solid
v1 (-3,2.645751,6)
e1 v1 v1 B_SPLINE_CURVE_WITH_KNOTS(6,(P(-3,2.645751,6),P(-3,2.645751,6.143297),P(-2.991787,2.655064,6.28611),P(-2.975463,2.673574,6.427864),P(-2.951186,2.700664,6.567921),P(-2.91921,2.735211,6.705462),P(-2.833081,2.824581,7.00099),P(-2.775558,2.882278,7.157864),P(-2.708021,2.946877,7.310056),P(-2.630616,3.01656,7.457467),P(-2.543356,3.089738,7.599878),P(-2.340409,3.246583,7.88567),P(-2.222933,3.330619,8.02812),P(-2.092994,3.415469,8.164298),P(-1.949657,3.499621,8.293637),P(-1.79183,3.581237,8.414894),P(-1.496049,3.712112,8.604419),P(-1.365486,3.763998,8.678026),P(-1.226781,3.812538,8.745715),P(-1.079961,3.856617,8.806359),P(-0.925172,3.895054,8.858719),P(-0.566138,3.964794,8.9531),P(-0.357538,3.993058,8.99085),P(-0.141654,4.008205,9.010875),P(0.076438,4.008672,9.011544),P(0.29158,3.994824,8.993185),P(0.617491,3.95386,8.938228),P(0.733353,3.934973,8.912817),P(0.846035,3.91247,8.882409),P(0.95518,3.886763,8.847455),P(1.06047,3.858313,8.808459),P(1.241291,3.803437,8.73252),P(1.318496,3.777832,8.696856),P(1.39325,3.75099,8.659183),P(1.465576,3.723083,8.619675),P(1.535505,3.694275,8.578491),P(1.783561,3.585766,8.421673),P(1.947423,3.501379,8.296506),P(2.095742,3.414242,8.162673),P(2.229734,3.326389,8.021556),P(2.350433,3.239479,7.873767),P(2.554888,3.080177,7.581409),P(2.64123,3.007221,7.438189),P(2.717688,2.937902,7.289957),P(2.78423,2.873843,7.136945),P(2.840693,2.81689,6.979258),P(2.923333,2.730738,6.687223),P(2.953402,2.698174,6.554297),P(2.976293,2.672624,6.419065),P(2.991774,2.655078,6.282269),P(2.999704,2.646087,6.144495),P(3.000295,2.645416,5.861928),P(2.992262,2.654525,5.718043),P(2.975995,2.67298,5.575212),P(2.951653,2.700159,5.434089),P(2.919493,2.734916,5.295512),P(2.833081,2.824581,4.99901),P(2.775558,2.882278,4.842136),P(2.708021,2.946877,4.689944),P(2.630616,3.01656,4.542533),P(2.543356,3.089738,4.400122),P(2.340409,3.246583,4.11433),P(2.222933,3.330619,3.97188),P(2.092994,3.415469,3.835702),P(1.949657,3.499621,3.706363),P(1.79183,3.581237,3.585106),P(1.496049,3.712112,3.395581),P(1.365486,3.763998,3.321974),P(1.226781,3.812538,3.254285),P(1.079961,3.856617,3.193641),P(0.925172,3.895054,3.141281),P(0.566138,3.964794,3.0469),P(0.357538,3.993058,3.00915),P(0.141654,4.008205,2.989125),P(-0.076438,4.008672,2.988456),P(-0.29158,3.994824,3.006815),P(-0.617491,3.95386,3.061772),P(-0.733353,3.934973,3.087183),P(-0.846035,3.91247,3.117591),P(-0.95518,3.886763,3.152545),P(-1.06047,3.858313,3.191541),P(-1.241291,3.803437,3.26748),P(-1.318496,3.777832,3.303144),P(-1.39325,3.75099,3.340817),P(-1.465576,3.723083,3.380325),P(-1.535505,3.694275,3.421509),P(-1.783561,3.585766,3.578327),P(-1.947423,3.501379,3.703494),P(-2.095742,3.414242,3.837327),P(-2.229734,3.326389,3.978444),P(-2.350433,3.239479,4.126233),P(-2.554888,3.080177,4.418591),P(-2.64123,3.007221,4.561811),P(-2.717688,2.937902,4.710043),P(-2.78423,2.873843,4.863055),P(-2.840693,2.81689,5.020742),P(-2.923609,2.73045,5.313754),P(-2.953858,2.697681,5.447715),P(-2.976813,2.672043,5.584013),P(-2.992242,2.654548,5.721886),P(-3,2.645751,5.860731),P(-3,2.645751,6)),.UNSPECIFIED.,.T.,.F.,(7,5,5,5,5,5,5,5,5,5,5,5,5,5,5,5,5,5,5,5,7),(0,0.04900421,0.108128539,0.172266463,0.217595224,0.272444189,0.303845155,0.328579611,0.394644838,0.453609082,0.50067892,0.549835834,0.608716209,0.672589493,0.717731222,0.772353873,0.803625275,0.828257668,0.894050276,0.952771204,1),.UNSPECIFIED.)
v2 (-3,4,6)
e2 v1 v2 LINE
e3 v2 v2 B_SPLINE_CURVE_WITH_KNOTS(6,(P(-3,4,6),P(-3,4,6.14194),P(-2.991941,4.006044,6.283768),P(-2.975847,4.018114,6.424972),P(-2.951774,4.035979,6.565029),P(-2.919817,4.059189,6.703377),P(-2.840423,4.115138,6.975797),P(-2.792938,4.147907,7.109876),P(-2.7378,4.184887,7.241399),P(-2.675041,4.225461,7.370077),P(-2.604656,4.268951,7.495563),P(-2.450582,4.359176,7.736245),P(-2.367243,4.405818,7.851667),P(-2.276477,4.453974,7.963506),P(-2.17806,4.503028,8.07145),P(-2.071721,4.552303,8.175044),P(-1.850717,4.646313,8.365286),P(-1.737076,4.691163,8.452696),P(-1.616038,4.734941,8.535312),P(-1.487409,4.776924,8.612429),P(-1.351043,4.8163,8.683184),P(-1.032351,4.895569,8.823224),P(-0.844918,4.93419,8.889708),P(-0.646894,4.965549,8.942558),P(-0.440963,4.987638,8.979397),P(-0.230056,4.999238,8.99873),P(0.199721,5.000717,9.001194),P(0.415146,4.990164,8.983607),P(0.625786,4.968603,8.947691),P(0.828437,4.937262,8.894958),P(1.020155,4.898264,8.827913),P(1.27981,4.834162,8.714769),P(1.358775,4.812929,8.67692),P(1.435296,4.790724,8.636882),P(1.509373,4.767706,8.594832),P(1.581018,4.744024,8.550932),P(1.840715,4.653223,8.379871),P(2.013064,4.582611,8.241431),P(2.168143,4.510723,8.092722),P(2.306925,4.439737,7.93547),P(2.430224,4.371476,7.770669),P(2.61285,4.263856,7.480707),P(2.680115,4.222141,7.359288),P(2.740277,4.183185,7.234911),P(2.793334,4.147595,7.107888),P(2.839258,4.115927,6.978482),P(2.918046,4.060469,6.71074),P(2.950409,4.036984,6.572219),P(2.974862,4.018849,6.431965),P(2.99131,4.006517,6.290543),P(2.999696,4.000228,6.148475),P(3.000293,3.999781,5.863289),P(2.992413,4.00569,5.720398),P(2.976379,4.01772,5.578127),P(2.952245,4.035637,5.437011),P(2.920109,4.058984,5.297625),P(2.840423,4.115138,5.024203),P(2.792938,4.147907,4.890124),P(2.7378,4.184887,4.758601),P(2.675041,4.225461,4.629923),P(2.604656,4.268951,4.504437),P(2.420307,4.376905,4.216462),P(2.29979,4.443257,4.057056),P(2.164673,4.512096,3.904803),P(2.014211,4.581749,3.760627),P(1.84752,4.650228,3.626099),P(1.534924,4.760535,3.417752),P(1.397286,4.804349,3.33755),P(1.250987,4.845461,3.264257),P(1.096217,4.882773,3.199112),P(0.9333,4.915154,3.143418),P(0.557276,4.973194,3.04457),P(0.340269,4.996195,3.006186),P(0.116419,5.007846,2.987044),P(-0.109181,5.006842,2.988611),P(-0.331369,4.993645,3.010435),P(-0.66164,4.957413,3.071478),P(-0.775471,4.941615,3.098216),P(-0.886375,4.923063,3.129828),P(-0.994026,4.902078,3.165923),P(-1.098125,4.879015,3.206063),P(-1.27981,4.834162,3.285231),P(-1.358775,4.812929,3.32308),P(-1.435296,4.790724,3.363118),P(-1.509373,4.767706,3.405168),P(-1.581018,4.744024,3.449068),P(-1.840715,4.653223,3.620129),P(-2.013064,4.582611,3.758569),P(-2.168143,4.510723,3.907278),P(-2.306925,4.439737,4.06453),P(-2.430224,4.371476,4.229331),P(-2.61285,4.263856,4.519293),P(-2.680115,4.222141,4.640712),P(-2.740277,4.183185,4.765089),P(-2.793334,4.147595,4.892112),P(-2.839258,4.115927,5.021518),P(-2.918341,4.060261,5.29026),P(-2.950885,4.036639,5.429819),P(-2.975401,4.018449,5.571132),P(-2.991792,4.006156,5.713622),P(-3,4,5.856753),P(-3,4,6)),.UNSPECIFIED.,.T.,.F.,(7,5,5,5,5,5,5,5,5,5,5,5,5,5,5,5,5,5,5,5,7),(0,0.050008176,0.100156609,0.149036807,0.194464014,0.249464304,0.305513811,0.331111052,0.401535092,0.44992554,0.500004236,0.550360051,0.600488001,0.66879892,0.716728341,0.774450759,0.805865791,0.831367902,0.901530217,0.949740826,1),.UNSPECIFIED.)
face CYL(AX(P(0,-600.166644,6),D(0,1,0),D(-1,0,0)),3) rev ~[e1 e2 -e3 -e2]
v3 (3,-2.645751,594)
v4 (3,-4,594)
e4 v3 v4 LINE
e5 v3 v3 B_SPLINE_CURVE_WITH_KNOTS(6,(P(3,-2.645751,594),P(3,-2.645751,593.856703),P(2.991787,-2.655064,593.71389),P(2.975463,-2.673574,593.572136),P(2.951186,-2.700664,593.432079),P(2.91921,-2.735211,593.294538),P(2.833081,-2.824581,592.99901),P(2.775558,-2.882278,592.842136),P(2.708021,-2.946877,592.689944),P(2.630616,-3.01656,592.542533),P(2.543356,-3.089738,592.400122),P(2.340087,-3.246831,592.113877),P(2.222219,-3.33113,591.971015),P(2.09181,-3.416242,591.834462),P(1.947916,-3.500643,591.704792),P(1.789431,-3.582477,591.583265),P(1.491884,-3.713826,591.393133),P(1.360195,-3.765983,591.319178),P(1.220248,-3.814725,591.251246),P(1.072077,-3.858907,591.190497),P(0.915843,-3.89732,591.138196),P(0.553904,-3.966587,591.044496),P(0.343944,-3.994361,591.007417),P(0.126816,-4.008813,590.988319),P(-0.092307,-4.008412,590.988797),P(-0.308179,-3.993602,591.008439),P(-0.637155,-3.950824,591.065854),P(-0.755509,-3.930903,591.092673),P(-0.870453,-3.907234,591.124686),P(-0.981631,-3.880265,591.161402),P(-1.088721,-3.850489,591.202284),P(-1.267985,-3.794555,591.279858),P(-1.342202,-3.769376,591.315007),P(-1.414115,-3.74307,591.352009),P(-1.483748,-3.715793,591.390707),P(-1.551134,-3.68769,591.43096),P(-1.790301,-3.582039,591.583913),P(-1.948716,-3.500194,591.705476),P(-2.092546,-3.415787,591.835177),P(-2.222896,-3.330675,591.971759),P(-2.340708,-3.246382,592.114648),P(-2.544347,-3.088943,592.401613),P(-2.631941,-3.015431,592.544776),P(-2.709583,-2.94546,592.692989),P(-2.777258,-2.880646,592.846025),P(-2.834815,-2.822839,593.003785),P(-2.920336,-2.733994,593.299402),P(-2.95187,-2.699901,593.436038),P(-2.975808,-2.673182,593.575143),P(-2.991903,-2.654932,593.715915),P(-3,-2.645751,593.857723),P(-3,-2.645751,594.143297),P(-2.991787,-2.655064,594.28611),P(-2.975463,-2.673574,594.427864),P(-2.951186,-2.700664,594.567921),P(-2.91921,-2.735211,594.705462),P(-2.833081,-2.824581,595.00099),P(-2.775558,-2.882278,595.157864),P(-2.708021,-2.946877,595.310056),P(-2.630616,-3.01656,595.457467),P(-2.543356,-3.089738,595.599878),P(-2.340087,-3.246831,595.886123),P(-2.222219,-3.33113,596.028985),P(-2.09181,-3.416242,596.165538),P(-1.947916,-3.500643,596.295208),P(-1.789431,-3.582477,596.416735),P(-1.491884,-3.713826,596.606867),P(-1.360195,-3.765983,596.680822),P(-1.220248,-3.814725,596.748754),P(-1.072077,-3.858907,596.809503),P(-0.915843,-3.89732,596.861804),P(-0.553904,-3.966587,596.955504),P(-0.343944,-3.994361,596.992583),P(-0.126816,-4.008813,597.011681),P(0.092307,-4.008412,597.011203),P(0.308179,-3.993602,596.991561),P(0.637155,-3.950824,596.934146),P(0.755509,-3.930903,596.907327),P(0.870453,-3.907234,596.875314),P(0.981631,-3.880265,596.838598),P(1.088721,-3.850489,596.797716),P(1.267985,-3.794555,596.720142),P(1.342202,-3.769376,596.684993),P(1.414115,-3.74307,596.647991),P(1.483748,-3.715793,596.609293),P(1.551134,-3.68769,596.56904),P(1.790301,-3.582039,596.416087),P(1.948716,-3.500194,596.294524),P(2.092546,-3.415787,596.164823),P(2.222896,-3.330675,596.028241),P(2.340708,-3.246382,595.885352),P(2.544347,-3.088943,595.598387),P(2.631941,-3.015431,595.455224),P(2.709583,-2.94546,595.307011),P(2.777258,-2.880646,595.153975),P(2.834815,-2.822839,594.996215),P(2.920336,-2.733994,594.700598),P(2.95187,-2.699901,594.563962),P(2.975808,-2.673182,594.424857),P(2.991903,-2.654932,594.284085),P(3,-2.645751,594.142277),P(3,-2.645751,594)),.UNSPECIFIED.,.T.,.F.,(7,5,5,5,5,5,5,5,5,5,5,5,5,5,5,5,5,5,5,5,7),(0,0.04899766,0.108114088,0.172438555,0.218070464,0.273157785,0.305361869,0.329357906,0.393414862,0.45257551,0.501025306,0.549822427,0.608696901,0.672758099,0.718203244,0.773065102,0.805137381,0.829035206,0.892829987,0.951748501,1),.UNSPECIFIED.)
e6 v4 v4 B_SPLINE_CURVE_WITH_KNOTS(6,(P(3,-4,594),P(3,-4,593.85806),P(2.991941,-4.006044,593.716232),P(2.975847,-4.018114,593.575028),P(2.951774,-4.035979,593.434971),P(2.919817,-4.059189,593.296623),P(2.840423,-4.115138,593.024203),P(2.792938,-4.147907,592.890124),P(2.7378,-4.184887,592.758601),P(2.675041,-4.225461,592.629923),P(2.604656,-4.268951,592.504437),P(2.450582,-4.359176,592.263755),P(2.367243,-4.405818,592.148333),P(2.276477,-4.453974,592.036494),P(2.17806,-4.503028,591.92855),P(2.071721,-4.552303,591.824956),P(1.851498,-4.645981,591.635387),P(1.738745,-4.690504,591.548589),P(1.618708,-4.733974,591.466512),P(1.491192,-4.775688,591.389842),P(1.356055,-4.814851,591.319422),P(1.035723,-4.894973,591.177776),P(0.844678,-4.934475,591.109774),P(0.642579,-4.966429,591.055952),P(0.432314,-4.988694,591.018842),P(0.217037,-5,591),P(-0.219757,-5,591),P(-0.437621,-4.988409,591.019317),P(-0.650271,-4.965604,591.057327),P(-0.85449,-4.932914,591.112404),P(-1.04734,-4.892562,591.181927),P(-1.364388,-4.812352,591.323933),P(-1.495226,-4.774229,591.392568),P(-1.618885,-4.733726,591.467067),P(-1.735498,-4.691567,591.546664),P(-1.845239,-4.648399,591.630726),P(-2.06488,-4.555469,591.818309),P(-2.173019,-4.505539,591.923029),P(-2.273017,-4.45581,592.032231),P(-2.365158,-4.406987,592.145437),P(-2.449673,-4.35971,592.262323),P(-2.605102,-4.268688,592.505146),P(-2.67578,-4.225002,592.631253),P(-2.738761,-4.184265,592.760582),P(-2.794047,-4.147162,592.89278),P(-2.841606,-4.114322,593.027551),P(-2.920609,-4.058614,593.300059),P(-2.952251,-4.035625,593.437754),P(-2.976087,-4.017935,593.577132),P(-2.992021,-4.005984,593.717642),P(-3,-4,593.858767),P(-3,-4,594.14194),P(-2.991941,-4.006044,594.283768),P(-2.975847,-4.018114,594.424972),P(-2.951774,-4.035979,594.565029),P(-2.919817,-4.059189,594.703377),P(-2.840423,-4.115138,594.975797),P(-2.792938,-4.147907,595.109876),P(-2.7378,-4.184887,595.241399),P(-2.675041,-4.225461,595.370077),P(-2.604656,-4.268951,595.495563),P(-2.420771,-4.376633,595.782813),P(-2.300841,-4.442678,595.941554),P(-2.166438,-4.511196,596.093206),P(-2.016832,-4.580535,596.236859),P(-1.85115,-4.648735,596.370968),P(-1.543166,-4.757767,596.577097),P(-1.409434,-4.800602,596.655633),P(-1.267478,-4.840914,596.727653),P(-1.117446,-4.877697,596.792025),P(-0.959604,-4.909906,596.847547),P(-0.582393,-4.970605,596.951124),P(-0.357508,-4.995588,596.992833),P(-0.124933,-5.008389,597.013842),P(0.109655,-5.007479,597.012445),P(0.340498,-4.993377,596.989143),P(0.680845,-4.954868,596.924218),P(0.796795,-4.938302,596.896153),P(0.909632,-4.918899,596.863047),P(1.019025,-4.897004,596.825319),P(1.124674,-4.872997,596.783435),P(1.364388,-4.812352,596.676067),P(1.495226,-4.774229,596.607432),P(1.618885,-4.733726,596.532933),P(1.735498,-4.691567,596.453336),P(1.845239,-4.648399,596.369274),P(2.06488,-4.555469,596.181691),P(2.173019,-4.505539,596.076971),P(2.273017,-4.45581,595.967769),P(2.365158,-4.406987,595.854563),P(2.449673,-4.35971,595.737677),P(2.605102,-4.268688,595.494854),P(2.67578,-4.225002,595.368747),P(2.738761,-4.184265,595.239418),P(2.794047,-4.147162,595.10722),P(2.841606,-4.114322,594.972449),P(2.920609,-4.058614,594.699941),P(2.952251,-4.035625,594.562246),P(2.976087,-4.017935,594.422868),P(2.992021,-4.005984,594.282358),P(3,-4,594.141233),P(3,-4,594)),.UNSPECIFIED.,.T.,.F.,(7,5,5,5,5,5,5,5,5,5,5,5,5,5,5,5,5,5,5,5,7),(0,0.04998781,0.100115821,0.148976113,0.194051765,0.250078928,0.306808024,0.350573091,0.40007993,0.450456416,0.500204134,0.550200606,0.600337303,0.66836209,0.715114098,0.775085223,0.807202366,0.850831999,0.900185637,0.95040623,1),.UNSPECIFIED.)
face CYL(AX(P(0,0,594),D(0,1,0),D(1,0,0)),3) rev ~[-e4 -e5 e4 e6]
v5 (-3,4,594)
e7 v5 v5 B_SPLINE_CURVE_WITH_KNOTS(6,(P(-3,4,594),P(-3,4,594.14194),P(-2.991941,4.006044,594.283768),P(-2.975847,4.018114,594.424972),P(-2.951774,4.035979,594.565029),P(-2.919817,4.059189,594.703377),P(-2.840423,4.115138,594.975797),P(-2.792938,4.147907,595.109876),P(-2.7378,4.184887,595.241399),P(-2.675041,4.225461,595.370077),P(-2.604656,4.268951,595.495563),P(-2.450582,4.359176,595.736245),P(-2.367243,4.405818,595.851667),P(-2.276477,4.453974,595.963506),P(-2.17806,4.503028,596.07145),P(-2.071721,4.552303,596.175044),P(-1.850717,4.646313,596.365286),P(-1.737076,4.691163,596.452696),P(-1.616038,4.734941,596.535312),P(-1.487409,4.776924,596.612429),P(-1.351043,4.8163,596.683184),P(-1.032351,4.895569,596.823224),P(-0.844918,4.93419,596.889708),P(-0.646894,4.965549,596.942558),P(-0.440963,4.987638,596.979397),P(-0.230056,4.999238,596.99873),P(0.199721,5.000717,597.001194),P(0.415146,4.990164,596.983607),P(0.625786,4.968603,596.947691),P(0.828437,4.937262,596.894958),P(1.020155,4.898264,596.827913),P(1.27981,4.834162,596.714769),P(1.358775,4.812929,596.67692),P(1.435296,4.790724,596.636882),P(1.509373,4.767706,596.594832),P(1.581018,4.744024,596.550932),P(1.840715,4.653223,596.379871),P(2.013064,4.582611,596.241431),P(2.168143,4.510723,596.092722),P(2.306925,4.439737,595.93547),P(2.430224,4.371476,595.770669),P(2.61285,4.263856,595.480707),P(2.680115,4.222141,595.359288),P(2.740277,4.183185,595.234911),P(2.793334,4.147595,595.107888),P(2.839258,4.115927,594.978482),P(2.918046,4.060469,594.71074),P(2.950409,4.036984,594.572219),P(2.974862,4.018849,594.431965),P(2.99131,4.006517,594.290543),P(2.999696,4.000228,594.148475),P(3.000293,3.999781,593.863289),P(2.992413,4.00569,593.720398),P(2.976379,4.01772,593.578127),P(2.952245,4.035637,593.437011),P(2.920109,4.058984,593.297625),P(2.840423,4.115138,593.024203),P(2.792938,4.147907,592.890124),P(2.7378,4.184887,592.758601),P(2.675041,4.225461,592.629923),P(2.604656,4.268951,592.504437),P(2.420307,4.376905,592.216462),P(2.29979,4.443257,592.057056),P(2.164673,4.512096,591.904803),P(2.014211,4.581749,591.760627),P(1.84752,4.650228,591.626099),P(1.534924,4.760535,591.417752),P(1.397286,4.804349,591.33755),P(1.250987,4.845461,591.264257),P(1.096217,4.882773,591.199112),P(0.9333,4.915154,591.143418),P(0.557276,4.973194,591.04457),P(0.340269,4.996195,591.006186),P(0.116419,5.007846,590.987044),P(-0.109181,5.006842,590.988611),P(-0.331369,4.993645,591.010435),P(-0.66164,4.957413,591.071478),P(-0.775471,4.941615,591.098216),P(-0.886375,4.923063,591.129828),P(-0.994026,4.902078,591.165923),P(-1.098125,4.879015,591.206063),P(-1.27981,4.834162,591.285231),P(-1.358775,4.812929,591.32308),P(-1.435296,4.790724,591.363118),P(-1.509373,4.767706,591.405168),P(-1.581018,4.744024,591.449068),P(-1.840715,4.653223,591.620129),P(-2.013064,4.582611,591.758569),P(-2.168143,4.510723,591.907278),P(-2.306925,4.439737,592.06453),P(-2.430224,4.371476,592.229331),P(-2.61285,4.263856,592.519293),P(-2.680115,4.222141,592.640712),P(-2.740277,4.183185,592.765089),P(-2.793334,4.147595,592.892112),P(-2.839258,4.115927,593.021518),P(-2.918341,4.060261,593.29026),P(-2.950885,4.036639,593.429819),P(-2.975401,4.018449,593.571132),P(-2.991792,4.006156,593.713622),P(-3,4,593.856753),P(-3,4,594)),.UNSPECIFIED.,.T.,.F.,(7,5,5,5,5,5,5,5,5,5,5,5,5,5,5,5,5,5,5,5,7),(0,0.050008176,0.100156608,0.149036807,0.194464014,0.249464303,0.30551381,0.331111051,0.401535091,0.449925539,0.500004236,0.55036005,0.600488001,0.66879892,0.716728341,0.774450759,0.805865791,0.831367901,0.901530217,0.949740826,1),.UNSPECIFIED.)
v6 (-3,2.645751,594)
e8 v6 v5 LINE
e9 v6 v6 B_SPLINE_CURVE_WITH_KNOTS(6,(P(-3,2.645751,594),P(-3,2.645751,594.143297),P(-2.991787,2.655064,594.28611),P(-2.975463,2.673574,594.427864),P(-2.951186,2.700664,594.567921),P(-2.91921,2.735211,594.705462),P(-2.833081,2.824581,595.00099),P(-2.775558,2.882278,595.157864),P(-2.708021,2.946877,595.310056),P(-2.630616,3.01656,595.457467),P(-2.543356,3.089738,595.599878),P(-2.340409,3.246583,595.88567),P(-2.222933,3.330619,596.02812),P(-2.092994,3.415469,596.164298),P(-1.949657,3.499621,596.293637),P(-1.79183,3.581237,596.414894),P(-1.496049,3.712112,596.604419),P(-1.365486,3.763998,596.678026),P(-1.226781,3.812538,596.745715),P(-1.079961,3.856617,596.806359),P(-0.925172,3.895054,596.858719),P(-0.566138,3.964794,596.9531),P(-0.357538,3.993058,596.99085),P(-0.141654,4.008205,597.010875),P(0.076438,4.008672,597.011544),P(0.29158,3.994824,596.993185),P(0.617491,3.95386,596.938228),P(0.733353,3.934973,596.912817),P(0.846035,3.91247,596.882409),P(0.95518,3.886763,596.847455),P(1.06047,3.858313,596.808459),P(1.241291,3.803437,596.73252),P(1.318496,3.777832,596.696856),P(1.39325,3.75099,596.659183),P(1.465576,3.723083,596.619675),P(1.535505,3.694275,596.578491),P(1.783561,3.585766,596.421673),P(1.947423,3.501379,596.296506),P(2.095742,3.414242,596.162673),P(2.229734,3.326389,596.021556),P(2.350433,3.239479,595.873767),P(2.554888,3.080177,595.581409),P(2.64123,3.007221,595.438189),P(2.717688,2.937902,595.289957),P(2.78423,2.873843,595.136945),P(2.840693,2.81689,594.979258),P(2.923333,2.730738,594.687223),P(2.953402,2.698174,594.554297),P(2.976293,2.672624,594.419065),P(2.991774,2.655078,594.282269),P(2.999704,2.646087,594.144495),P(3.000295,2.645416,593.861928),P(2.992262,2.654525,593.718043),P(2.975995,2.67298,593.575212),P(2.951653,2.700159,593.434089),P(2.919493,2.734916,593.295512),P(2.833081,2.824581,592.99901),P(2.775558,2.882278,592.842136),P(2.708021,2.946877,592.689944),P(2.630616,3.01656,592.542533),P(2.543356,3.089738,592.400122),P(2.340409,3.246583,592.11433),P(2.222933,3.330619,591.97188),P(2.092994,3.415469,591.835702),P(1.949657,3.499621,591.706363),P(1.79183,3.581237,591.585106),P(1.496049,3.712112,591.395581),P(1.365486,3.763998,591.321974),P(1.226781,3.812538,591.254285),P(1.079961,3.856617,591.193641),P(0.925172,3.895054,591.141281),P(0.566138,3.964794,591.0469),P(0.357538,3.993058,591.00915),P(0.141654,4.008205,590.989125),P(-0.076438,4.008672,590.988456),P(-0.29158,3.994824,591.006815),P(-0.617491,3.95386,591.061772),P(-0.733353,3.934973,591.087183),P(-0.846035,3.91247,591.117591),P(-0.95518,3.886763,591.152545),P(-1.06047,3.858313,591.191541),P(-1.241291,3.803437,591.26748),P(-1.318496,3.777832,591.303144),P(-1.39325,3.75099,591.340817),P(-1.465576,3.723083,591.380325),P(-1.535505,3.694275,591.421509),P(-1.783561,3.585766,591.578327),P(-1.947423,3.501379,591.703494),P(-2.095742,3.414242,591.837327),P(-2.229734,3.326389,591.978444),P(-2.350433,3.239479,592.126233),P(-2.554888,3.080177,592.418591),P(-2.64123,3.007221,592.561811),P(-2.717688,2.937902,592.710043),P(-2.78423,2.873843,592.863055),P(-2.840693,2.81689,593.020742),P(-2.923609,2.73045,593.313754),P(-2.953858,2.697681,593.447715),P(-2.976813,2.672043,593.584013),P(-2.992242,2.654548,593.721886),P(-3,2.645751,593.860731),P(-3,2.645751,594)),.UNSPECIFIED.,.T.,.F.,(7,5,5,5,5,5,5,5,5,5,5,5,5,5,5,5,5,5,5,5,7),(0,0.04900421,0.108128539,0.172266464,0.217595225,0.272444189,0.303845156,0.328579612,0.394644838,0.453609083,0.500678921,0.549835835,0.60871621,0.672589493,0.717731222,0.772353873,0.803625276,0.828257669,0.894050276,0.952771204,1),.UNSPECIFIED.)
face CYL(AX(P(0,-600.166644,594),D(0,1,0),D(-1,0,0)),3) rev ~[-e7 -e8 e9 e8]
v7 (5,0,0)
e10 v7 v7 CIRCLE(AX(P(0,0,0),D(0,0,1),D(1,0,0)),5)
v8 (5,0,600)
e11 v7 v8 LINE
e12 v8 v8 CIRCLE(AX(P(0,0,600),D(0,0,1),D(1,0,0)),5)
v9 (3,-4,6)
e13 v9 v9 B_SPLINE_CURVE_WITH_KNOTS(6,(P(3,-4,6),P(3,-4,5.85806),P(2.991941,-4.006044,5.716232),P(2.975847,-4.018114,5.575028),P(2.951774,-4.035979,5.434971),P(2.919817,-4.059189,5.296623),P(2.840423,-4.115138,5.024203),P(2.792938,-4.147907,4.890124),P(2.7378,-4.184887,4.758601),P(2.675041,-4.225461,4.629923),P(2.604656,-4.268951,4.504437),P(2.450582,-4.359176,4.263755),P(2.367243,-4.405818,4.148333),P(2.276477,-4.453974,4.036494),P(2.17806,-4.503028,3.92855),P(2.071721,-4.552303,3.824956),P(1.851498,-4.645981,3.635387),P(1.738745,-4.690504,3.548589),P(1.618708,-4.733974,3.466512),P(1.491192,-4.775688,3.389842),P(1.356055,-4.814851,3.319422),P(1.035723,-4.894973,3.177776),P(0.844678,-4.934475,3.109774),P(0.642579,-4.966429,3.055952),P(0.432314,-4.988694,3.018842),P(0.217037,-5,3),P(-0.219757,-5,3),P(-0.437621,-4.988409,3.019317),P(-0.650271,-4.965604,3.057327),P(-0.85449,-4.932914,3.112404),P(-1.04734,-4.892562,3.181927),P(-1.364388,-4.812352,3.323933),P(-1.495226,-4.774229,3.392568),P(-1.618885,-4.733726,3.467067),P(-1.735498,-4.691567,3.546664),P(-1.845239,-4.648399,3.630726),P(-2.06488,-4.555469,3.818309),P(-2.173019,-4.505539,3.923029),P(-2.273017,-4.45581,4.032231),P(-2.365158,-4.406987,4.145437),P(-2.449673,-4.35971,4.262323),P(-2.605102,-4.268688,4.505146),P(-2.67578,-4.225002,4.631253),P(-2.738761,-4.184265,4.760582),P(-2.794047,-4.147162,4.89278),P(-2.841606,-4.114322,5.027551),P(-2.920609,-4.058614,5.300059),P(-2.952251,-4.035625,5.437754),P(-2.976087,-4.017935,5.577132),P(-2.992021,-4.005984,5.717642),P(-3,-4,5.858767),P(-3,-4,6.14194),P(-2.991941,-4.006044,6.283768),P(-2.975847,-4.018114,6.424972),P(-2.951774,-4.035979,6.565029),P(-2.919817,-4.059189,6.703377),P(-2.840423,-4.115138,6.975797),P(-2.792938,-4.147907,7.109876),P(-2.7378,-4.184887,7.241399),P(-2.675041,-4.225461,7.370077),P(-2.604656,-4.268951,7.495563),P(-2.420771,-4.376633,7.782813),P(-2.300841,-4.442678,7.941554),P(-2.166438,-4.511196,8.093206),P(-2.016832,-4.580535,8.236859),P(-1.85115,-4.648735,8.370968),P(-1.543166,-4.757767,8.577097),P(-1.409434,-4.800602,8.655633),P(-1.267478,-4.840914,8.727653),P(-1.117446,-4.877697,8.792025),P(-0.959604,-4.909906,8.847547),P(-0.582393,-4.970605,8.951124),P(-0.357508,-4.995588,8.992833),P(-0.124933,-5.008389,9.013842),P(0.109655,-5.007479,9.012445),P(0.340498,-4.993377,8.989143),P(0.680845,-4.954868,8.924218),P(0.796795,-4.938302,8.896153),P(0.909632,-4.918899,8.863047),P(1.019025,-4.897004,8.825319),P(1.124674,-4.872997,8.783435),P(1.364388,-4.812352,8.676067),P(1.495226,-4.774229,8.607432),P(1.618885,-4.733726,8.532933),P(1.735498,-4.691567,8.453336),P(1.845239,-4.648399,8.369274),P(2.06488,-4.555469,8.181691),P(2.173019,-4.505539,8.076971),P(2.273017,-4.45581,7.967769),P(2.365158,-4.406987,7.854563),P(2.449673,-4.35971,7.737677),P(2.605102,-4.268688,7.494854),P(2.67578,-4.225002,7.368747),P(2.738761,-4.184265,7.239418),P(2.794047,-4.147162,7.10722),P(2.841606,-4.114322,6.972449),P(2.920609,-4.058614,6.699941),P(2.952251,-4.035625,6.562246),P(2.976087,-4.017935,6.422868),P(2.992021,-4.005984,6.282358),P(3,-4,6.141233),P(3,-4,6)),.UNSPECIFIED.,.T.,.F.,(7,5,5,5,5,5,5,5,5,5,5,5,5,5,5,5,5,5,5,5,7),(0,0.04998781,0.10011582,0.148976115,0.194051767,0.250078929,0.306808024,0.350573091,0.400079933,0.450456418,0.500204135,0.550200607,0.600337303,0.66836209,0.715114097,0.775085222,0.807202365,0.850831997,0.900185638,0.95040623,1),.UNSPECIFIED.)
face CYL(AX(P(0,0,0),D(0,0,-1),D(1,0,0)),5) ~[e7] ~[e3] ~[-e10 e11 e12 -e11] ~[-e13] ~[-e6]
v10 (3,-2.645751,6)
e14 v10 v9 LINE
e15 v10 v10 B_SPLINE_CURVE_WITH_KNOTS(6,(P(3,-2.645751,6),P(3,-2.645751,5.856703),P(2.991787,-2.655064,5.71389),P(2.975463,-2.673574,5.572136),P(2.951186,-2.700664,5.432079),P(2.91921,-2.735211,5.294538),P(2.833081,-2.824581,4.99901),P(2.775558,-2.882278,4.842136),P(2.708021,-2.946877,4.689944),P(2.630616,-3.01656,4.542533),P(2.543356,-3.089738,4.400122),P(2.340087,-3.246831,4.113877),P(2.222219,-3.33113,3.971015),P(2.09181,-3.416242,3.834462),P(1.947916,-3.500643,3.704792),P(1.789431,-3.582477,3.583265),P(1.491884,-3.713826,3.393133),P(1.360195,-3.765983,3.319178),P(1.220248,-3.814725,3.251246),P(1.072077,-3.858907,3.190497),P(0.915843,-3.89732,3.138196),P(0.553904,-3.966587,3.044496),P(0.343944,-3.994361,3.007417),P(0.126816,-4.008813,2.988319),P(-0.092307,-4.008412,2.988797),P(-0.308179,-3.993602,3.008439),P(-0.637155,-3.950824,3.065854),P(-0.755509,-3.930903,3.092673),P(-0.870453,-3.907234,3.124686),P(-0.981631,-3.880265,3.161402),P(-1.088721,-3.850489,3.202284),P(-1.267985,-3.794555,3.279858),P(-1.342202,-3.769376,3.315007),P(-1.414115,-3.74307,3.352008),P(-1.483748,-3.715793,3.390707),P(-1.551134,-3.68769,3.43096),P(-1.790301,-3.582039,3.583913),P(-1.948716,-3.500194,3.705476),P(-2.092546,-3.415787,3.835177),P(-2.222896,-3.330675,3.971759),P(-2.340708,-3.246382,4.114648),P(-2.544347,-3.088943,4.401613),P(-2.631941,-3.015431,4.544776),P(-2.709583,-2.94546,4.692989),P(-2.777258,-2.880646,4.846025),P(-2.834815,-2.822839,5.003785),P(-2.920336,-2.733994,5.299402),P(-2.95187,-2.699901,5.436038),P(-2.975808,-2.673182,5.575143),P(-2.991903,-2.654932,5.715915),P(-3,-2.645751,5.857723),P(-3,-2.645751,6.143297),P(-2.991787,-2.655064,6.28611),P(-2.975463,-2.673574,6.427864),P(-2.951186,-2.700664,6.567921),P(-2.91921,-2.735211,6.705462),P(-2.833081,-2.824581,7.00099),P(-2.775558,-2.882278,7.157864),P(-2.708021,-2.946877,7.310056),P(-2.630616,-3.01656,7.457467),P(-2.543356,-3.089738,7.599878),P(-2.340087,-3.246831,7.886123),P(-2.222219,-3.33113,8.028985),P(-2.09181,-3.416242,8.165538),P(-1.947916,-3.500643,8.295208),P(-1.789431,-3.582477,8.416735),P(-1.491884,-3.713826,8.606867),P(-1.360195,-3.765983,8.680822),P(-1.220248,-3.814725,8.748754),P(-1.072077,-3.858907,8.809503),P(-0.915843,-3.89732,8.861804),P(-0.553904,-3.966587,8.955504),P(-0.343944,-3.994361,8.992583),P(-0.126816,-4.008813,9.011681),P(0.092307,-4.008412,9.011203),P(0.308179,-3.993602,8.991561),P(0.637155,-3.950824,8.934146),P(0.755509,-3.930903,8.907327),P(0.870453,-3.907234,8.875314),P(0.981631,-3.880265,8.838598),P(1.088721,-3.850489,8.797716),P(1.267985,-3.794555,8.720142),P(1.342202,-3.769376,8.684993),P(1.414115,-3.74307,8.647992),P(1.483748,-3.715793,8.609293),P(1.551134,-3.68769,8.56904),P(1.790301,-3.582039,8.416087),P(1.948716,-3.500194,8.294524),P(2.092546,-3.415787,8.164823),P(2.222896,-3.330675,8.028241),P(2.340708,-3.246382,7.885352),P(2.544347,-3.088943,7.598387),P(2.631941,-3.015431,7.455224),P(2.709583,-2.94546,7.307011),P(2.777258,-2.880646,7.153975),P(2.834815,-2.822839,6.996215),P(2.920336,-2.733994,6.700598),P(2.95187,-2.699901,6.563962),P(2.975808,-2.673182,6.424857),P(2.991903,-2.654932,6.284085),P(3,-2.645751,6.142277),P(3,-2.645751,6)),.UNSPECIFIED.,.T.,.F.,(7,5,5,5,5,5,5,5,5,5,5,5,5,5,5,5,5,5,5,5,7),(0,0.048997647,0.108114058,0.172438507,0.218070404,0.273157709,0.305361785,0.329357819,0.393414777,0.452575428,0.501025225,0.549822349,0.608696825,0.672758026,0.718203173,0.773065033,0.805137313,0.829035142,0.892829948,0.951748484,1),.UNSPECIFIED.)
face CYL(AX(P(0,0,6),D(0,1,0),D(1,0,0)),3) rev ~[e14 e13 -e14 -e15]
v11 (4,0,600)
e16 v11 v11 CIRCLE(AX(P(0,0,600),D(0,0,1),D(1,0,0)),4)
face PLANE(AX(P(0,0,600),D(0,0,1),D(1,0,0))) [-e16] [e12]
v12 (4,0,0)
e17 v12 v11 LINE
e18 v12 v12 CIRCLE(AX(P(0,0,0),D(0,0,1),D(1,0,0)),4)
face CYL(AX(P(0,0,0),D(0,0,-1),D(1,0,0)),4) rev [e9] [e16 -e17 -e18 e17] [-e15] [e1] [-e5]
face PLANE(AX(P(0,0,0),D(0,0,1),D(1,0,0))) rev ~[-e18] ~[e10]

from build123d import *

# Parameters (mm, degrees)
F0_R     = 5
F0_R_2   = 4
F1_DEPTH = 600
F3_D     = 6
F3_DEPTH = 5.001
F4_D     = 6


with BuildPart() as f1:
    # F0 (on Top) → F1 (new body)
    with BuildSketch(Plane.XY):
        Circle(F0_R)
        Circle(F0_R_2, mode=Mode.SUBTRACT)
    extrude(amount=F1_DEPTH)

    # F3 (through all, one way)
    with BuildSketch(Plane(origin=(0, 0, 0), x_dir=(1, 0, 0), z_dir=(0, 1, 0))):
        with Locations((0, -6), (0, -594)):
            Circle(F3_D / 2)
    extrude(amount=-F3_DEPTH, mode=Mode.SUBTRACT)

    # F4 (through all)
    with Locations(Plane.XZ):
        with Locations((0, 594), (0, 6)):
            Hole(F4_D / 2)


solid = f1.part
